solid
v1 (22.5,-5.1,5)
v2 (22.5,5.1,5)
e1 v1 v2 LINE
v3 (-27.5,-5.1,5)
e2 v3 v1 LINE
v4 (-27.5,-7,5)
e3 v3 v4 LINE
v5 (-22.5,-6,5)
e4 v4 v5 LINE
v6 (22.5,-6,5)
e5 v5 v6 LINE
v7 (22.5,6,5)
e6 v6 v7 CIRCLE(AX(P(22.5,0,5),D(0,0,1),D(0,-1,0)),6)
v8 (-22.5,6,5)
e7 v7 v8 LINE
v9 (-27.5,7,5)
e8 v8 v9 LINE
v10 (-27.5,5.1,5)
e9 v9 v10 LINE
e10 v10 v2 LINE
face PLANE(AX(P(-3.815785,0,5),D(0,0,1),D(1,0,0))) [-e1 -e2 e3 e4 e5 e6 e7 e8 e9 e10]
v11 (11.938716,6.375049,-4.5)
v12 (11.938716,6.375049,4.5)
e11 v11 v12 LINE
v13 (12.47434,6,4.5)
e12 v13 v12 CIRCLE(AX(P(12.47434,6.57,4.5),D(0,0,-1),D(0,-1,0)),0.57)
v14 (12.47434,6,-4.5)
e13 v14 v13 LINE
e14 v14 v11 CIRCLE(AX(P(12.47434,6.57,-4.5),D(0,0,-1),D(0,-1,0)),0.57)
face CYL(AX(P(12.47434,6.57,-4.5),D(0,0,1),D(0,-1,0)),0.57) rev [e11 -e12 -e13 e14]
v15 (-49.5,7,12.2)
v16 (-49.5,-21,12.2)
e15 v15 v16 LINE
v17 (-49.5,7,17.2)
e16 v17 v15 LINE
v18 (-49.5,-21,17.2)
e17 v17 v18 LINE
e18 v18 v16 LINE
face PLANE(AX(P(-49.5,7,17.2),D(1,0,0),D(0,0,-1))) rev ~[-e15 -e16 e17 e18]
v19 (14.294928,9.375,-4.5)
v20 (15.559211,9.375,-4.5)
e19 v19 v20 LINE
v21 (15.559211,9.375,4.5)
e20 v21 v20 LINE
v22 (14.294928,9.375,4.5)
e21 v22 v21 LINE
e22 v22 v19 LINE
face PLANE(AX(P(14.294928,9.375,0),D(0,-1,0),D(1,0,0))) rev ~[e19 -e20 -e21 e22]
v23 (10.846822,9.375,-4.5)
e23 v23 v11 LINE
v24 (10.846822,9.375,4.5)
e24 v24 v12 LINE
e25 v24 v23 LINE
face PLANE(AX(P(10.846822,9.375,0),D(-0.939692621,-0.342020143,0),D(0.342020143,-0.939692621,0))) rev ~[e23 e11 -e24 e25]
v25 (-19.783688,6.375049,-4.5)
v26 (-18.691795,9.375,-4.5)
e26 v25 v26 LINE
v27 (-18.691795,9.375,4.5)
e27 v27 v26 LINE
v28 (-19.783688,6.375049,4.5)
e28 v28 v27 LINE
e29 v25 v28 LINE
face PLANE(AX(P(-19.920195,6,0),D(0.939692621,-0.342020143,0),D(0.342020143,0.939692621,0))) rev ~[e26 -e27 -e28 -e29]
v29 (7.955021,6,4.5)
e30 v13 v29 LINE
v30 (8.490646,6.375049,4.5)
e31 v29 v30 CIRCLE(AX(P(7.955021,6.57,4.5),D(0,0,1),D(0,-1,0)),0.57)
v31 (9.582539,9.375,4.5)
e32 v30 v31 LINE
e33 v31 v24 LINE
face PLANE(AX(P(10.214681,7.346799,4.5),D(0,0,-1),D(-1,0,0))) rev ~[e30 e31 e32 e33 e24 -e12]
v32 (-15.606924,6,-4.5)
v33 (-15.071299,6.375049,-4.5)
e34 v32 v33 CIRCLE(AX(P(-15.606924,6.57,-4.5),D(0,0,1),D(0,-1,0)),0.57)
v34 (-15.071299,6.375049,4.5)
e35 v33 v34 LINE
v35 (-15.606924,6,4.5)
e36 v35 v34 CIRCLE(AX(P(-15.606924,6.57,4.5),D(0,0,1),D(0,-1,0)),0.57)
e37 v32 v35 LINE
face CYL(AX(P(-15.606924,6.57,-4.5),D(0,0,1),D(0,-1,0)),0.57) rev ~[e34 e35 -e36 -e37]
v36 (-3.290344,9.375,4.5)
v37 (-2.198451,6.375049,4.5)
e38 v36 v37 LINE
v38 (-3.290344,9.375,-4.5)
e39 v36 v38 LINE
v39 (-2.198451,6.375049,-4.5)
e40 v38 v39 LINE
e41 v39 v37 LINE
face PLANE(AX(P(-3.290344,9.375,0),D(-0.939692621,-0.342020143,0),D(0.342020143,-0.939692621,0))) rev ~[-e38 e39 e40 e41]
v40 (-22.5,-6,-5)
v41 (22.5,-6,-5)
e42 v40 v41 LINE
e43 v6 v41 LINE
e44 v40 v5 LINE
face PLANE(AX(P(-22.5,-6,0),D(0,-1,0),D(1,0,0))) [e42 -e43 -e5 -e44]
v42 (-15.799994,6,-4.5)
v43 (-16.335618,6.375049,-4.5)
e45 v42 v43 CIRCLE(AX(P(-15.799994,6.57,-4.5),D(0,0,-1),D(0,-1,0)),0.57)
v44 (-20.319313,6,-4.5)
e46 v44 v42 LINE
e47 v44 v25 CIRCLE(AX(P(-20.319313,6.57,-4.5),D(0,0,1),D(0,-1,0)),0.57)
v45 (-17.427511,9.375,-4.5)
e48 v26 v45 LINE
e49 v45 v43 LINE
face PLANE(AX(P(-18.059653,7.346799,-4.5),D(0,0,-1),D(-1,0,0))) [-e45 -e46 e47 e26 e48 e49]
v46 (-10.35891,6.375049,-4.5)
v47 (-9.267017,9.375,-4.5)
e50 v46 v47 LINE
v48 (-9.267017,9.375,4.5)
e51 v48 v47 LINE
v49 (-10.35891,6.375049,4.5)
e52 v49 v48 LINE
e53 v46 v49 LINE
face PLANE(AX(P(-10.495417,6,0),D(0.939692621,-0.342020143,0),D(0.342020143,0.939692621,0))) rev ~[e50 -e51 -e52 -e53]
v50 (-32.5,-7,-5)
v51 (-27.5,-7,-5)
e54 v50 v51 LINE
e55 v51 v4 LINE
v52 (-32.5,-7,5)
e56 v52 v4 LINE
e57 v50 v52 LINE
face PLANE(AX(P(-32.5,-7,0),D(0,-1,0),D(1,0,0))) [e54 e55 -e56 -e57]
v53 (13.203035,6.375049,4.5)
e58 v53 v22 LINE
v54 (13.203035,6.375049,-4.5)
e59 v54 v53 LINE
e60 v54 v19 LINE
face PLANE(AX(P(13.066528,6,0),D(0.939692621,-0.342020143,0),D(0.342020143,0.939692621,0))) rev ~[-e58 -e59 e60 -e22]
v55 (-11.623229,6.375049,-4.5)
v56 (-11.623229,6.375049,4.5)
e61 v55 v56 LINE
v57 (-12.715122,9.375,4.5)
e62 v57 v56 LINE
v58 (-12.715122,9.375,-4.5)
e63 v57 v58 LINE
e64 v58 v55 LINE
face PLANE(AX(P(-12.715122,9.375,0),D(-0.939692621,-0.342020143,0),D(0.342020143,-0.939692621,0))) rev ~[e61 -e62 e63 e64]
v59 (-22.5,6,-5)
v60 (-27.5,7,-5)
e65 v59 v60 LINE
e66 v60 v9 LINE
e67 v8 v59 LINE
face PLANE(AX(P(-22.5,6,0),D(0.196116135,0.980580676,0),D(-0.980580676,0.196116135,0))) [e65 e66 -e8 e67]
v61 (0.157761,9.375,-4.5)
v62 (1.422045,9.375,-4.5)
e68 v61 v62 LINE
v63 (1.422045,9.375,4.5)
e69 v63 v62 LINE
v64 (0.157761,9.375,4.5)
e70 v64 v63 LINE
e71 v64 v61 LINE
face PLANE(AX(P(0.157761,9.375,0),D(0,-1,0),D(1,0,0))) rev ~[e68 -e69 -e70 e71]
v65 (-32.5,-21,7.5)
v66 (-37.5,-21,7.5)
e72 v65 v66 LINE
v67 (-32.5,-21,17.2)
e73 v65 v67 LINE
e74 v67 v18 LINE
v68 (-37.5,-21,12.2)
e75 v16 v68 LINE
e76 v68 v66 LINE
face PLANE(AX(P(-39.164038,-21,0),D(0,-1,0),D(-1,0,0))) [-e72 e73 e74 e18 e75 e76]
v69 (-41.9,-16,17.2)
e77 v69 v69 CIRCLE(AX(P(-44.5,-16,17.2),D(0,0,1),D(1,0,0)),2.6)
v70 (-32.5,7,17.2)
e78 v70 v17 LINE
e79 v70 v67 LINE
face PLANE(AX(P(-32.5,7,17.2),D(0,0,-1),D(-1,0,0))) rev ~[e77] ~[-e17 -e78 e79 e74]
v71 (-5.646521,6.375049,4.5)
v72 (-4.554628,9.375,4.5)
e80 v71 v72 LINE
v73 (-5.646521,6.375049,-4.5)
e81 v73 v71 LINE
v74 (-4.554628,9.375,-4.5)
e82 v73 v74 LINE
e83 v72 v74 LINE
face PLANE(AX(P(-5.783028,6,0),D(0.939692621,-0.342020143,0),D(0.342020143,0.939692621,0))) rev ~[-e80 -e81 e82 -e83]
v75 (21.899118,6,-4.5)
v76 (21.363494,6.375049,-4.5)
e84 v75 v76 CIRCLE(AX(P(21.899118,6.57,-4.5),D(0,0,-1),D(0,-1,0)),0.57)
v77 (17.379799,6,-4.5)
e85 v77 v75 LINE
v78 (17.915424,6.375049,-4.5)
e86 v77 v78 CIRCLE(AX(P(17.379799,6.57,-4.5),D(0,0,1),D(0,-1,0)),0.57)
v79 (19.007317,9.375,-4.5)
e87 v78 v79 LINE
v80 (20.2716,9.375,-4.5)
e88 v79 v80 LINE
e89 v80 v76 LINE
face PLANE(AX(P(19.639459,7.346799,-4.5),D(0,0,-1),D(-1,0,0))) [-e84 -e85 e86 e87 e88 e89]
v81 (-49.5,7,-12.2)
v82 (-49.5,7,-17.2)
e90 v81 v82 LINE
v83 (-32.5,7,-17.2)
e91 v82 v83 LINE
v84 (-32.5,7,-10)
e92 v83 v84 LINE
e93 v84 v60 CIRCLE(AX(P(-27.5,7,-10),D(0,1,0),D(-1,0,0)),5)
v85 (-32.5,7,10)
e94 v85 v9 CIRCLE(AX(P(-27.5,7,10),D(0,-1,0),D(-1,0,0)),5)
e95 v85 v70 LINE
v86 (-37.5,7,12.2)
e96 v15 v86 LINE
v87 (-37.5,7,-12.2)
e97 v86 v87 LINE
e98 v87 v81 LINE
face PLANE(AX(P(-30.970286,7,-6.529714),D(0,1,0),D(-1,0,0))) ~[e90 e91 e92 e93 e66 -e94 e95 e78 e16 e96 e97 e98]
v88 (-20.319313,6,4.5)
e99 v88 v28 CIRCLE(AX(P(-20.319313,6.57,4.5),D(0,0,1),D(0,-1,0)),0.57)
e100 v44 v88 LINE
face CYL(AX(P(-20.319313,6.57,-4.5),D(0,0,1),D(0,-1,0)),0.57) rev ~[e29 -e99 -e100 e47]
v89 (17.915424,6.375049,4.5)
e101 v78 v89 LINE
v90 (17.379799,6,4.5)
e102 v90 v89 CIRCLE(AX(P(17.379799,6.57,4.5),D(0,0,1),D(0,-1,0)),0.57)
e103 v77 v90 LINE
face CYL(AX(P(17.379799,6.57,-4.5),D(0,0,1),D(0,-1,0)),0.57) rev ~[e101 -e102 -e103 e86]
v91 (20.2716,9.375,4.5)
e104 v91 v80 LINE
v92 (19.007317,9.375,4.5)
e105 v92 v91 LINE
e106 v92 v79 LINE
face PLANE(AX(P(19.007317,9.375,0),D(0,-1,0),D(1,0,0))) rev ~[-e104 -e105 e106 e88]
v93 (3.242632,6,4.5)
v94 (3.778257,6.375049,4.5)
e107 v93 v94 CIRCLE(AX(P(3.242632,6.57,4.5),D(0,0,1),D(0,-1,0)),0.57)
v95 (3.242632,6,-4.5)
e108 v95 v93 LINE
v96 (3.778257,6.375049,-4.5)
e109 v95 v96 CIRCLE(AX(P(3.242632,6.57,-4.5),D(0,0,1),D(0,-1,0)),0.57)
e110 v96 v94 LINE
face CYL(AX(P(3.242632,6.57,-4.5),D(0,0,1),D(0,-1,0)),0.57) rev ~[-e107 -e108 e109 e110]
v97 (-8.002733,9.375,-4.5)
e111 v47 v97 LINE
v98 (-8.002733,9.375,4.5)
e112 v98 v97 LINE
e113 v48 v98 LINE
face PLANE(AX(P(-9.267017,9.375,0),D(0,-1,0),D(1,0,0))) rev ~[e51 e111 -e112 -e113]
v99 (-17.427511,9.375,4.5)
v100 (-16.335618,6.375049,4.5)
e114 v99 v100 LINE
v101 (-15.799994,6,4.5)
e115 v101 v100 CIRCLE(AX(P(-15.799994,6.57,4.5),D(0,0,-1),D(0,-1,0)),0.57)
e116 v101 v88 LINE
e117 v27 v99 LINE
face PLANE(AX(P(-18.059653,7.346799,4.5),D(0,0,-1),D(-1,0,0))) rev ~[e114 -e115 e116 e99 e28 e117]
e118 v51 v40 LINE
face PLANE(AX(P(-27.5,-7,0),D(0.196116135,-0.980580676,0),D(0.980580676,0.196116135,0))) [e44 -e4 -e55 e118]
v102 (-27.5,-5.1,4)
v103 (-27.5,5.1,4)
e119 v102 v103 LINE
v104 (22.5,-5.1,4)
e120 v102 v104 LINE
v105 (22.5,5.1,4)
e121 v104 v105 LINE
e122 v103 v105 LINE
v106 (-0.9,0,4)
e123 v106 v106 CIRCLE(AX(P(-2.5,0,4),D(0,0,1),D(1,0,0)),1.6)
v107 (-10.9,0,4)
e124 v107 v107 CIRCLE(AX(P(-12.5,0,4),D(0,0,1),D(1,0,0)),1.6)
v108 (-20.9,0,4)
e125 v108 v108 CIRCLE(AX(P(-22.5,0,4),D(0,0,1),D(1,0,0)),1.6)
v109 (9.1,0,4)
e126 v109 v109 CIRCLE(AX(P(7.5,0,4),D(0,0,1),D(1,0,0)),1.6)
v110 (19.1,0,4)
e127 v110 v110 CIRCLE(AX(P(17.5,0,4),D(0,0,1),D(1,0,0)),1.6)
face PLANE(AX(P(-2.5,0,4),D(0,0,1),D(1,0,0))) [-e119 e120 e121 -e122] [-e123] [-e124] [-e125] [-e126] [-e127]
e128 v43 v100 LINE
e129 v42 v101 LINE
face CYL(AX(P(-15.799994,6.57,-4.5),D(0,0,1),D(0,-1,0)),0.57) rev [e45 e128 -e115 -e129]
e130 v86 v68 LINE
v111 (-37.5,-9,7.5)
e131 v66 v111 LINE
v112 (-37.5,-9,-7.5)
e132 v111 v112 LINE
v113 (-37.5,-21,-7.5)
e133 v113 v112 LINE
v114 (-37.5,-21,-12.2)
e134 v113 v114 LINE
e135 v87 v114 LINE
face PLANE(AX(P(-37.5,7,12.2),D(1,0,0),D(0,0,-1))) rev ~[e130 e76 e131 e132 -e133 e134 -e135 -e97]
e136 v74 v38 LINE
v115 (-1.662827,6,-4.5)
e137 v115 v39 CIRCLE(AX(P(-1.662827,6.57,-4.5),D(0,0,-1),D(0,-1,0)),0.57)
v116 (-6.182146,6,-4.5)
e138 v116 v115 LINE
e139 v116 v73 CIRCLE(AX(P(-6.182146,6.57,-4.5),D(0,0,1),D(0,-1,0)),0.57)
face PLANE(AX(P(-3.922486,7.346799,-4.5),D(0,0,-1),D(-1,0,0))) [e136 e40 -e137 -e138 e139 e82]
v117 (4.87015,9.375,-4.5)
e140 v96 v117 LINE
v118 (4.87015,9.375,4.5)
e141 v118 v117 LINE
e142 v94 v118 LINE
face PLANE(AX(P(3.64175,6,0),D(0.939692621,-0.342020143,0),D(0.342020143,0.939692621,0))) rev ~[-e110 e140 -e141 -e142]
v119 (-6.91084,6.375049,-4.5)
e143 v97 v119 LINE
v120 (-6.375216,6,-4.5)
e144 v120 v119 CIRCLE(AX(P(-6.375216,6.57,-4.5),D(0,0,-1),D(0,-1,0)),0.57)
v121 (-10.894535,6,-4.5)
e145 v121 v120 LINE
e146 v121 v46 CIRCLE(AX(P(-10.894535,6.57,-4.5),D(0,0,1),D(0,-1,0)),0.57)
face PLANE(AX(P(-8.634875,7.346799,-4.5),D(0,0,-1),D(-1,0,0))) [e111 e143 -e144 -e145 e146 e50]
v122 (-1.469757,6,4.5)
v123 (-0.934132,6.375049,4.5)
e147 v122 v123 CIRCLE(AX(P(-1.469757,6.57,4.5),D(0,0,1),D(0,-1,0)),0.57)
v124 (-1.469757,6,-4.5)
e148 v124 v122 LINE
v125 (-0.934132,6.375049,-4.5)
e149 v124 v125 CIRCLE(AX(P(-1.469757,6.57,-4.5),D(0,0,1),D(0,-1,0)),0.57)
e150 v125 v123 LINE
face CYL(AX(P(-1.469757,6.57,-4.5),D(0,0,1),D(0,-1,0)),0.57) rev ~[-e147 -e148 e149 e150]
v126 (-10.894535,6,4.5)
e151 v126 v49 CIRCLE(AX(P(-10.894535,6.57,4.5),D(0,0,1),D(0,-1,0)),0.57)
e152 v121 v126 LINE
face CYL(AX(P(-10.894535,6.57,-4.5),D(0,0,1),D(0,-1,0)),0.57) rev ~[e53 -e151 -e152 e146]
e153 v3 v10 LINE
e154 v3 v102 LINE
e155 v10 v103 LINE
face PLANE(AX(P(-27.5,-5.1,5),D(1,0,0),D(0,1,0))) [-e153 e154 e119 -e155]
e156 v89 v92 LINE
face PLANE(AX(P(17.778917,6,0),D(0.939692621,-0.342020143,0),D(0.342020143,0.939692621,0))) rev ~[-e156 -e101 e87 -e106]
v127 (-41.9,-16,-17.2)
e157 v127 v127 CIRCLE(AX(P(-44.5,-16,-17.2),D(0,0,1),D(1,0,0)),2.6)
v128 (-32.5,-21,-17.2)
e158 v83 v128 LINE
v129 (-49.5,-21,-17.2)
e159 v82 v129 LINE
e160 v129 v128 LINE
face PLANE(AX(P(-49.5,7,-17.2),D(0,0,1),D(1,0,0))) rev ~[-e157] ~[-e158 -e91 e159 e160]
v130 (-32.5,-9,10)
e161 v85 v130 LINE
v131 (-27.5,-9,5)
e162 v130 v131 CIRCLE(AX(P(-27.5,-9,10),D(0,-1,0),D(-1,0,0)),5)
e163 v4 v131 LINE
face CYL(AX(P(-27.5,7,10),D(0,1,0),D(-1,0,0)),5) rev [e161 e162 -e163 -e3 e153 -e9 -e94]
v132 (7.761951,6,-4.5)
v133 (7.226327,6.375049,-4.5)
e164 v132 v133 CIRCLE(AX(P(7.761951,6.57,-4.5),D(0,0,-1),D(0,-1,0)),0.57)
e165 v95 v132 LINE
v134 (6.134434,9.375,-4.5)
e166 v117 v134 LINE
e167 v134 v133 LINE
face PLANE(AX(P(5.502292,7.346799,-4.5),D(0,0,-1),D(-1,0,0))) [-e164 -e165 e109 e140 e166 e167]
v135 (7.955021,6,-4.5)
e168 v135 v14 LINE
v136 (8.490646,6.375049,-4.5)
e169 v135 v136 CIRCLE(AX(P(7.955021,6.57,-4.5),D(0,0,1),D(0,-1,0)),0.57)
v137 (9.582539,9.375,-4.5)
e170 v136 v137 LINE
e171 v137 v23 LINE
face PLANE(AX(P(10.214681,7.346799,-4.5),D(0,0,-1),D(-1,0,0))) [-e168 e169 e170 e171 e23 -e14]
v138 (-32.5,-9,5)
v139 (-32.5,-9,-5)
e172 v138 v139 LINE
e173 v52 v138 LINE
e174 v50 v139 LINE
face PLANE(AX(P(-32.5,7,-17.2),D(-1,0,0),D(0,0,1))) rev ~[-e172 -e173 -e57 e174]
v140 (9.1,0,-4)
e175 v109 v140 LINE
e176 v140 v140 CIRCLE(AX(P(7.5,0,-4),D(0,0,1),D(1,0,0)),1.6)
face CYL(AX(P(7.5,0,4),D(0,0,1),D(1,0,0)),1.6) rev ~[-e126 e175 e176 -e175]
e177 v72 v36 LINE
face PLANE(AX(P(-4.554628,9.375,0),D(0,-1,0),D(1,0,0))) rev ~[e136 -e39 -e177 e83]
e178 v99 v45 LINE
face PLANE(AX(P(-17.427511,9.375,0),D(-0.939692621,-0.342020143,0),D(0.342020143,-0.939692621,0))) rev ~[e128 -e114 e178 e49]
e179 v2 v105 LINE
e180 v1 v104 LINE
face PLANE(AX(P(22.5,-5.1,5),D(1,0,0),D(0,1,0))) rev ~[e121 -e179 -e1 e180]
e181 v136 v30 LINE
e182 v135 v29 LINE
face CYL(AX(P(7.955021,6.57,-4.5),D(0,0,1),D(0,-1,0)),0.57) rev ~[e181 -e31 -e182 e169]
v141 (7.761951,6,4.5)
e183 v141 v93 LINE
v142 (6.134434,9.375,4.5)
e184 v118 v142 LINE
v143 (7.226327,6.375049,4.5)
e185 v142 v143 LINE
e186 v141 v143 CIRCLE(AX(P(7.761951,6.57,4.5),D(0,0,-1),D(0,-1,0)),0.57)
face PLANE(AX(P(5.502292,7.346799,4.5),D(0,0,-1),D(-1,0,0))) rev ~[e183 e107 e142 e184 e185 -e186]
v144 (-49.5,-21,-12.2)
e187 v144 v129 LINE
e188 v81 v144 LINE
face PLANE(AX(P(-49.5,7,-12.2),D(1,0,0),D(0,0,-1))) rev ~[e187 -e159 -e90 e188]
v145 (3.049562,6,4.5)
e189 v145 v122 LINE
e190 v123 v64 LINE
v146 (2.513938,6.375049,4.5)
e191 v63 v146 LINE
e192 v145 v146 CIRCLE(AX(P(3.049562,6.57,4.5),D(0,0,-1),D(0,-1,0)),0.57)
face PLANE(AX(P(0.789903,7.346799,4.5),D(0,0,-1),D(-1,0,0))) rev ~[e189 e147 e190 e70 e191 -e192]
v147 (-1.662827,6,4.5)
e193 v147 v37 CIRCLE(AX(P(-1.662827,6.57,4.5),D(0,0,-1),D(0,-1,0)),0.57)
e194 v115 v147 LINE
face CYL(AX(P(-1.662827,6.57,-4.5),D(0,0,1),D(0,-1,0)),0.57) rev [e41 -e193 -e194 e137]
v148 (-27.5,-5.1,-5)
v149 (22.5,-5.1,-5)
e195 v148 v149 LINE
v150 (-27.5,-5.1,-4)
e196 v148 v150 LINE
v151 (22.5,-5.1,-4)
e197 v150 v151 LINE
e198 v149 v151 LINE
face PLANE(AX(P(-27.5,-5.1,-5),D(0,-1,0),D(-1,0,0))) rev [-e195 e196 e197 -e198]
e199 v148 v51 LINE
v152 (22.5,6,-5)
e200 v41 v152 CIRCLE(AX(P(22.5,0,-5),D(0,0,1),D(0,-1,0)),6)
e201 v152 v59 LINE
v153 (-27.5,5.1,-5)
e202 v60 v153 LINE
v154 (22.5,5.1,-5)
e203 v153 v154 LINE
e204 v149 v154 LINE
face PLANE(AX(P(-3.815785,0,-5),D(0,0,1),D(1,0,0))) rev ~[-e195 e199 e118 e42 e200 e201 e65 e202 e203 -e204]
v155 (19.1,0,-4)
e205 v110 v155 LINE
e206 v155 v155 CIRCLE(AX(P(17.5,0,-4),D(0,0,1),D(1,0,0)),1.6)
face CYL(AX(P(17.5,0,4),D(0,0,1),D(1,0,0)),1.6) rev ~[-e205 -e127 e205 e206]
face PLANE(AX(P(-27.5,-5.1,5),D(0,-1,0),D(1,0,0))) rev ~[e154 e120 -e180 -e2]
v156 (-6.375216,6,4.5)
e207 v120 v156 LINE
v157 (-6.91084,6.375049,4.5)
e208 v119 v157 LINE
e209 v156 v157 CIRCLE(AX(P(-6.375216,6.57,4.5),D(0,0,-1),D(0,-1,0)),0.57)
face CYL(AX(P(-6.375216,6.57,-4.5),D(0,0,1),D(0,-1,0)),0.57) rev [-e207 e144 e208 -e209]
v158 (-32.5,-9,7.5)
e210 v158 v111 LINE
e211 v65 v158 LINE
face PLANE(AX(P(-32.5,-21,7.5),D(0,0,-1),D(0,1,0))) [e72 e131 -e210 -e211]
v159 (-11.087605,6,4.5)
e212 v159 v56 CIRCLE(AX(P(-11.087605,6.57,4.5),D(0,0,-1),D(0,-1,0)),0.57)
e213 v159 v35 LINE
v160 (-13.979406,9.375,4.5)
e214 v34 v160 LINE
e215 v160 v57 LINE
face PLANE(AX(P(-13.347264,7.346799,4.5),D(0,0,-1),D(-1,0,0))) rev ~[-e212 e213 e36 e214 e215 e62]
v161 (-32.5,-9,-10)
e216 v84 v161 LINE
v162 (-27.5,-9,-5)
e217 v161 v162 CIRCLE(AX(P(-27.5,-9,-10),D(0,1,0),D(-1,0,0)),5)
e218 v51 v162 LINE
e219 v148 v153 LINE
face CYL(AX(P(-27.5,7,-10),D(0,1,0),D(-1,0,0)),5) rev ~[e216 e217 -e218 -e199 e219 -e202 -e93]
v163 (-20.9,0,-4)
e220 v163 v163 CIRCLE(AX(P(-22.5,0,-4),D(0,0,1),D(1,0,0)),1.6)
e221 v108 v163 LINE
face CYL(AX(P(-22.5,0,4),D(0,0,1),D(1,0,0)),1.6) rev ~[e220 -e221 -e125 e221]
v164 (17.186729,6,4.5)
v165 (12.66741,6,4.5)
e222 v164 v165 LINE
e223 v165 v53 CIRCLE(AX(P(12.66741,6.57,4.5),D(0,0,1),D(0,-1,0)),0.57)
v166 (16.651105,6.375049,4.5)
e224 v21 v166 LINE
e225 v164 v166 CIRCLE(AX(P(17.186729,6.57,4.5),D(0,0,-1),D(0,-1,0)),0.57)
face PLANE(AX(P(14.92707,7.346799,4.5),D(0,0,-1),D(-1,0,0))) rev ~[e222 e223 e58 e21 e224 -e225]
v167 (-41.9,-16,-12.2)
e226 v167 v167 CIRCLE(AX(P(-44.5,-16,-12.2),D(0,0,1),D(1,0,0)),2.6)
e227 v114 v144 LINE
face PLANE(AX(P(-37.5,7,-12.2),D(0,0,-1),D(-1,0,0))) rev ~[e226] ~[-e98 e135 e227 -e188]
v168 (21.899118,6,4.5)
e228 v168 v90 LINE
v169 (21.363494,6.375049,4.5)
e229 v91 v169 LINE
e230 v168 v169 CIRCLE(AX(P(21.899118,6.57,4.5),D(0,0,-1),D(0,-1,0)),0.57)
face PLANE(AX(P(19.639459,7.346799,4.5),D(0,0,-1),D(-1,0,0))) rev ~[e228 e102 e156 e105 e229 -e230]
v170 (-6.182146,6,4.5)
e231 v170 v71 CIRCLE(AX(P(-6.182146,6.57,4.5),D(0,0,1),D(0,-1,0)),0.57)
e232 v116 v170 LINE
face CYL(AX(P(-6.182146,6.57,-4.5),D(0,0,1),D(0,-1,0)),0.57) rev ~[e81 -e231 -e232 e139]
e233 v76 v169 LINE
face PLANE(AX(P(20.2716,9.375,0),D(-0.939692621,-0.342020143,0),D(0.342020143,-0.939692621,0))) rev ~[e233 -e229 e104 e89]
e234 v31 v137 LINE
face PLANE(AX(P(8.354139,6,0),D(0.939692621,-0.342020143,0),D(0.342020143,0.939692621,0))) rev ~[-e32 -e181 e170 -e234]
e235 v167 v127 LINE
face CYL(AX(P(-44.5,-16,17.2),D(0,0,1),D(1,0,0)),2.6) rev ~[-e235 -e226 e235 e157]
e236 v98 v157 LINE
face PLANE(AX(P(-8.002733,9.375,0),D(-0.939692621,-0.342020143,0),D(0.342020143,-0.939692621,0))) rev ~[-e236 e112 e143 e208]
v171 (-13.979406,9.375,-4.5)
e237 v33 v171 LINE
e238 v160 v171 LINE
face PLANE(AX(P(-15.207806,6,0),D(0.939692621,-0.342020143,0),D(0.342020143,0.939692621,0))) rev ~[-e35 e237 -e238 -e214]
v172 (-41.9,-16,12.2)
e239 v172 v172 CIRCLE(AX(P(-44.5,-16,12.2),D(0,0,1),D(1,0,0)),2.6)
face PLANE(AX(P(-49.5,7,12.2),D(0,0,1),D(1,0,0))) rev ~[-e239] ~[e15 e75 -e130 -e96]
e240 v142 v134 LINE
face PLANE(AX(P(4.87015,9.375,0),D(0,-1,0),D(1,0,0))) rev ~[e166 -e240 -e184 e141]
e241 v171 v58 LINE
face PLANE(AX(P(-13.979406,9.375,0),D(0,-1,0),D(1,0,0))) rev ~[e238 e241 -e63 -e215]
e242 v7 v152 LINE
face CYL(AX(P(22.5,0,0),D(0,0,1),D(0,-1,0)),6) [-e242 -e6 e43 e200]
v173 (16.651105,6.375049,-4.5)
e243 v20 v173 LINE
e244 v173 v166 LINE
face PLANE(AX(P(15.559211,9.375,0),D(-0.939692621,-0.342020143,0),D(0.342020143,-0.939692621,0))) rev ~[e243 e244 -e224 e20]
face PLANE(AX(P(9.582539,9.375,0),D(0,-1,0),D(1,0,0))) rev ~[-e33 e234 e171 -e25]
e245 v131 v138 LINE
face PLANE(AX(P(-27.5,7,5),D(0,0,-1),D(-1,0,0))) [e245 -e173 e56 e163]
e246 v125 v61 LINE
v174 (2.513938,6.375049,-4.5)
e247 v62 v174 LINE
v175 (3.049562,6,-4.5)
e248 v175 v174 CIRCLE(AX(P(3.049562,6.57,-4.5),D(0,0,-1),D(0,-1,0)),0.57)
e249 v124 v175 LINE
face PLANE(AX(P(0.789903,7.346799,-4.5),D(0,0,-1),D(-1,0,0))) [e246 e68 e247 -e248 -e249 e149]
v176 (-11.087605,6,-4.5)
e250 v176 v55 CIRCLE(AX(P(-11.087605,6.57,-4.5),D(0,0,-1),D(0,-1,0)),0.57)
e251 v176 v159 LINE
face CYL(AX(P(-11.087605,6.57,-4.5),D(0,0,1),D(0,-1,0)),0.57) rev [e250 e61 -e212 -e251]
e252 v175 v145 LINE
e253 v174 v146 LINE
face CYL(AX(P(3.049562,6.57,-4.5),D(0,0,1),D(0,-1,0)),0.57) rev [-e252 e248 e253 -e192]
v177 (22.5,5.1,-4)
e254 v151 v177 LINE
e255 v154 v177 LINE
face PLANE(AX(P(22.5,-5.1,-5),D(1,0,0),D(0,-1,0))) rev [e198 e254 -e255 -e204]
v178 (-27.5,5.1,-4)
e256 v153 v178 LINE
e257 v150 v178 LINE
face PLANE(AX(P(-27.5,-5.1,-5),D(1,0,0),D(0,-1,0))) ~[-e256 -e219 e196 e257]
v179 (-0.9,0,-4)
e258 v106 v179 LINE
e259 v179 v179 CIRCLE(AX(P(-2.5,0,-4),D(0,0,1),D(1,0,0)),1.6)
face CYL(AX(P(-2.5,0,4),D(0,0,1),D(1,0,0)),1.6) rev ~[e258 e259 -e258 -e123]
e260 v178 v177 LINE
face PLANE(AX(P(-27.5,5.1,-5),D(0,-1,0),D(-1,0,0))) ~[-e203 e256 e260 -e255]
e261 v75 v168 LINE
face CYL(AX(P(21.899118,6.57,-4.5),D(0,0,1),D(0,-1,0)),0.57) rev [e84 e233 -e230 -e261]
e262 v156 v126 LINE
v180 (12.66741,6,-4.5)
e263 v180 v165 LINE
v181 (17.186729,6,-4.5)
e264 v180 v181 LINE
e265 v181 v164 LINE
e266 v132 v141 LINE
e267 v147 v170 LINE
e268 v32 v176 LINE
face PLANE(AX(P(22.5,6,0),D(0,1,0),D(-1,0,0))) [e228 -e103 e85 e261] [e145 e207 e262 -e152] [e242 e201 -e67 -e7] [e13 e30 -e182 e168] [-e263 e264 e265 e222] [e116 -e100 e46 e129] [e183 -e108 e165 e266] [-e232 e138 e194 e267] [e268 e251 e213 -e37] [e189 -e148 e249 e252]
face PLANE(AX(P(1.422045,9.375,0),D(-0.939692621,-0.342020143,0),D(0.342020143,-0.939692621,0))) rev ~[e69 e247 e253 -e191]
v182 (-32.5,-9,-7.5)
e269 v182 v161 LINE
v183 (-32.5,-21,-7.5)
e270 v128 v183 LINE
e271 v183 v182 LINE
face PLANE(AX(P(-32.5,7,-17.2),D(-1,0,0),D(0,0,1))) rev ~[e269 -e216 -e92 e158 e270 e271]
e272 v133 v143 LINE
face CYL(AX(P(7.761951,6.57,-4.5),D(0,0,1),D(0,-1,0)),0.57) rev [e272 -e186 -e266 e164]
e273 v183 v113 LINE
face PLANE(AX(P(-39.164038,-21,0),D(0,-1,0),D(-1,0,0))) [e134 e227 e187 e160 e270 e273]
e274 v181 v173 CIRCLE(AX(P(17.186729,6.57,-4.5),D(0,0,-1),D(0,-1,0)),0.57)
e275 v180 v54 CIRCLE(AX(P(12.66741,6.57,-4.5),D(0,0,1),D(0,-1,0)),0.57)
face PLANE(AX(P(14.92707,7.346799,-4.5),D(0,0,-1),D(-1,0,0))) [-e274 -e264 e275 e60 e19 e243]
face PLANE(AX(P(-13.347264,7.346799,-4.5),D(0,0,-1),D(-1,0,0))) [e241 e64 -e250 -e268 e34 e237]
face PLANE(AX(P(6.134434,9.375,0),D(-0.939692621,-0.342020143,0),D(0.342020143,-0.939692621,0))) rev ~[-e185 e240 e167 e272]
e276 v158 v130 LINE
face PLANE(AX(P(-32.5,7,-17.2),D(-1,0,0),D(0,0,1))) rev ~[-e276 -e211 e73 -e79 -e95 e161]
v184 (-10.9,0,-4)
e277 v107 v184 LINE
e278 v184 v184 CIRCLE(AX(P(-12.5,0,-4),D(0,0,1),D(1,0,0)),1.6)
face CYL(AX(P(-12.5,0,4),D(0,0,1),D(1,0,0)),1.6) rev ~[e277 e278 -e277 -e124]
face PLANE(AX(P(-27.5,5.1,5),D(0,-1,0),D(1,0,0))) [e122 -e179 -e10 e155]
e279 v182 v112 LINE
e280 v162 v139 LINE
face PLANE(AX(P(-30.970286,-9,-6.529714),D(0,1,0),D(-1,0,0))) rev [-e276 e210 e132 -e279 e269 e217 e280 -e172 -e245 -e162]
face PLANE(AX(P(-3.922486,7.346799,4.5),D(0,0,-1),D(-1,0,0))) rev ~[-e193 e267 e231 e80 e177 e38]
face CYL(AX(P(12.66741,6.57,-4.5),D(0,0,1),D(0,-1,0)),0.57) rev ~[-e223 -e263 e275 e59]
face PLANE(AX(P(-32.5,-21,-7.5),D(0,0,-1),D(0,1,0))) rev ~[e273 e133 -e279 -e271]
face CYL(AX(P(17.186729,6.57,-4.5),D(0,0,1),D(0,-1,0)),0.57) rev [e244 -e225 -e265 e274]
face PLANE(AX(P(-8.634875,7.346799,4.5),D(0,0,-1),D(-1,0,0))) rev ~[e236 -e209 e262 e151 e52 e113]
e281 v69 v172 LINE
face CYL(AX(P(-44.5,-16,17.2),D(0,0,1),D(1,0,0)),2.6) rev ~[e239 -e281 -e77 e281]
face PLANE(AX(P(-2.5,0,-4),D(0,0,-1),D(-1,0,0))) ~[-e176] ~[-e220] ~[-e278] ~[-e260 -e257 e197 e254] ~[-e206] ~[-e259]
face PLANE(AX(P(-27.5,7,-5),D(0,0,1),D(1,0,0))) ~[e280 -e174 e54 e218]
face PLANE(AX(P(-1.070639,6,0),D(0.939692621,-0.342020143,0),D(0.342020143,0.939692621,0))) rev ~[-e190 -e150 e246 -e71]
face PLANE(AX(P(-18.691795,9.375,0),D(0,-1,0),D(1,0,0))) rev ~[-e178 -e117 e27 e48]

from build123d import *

# Parameters (mm, degrees)
MAIN_EXTRUSION_DEPTH          = 5
TOOTH_DEPTH                   = 4.5
TOOTH_FILLET_R                = 0.57
TOOTHREPEAT_COUNT             = 9
TOOTHREPEAT_PITCH             = 4.71238898
TOOTH_FILLET_OF_TOOTHREPEAT_R = 0.57
FIXINGSUPPORT_DEPTH           = 28
ESQUISSE11_R                  = 2.6
FIXINGHOLES_DEPTH             = 64.832671885
ESQUISSE12_W                  = 15
ESQUISSE12_H                  = 12
RACKHOLE_DEPTH                = 67.767057746
FILLET_2_DEPTH                = 16
ESQUISSE15_W                  = 50
ESQUISSE15_H                  = 10.2
REINFORCEMENT_DEPTH           = 1
ESQUISSE16_R                  = 1.6
ENL_V_MAT_EXTRU_2_DEPTH       = 58.798702408


with BuildPart() as part:
    # Esquisse1 → Main Extrusion (new, symmetric)
    with BuildSketch(Plane.XY):
        with BuildLine():
            Line((-22.5, 6), (-27.5, 7))
            Line((-27.5, 7), (-32.5, 7))
            Line((-32.5, 7), (-32.5, -7))
            Line((-32.5, -7), (-27.5, -7))
            Line((-27.5, -7), (-22.5, -6))
            Line((-22.5, -6), (22.5, -6))
            ThreePointArc((22.5, -6), (28.5, 0), (22.5, 6))
            Line((22.5, 6), (-22.5, 6))
        make_face()
    extrude(amount=MAIN_EXTRUSION_DEPTH, both=True)

    # Esquisse5 → Tooth (add, symmetric)
    with BuildSketch(Plane.XY):
        Polygon((17.778917131, 6), (19.007316672, 9.375), (20.271600459, 9.375), (21.5, 6), align=None)
    tooth = extrude(amount=TOOTH_DEPTH, both=True)

    # Tooth Fillet
    tooth_fillet_edges = [part.edges().sort_by_distance(p)[0] for p in [
        (17.778917131, 6, 0),
        (21.5, 6, 0),
    ]]
    fillet(tooth_fillet_edges, radius=TOOTH_FILLET_R)

    # ToothRepeat: Tooth ×9
    with Locations(*[(-i * TOOTHREPEAT_PITCH, 0, 0) for i in range(1, TOOTHREPEAT_COUNT)]):
        add(tooth)

    # Tooth Fillet of ToothRepeat
    tooth_fillet_of_toothrepeat_edges = [part.edges().sort_by_distance(p)[0] for p in [
        (13.066528151, 6, 0),
        (16.78761102, 6, 0),
        (8.354139171, 6, 0),
        (12.07522204, 6, 0),
        (3.641750191, 6, 0),
        (7.36283306, 6, 0),
        (-1.070638789, 6, 0),
        (2.65044408, 6, 0),
        (-5.783027769, 6, 0),
        (-2.0619449, 6, 0),
        (-10.495416749, 6, 0),
        (-6.77433388, 6, 0),
        (-15.207805729, 6, 0),
        (-11.48672286, 6, 0),
        (-19.920194709, 6, 0),
        (-16.19911184, 6, 0),
    ]]
    fillet(tooth_fillet_of_toothrepeat_edges, radius=TOOTH_FILLET_OF_TOOTHREPEAT_R)



with BuildPart() as body_2:
    # Esquisse10 → FixingSupport (new body)
    with BuildSketch(Plane(origin=(0, 7, 0), x_dir=(1, 0, 0), z_dir=(0, 1, 0))):
        Polygon((-32.5, -17.2), (-49.5, -17.2), (-49.5, -12.2), (-37.5, -12.2), (-37.5, 12.2), (-49.5, 12.2), (-49.5, 17.2), (-32.5, 17.2), align=None)
    extrude(amount=-FIXINGSUPPORT_DEPTH)

    # Esquisse11 → FixingHoles (cut, through all)
    with BuildSketch(Plane.XY.offset(17.2)):
        with Locations((-44.5, -16)):
            Circle(ESQUISSE11_R)
    extrude(amount=-FIXINGHOLES_DEPTH, mode=Mode.SUBTRACT)

    # Esquisse12 → RackHole (cut, through all)
    with BuildSketch(Plane(origin=(-32.5, 0, 0), x_dir=(0, 0, -1), z_dir=(1, 0, 0))):
        with Locations((0, -15)):
            Rectangle(ESQUISSE12_W, ESQUISSE12_H)
    extrude(amount=-RACKHOLE_DEPTH, mode=Mode.SUBTRACT)


with BuildPart() as part_1:
    add(part.part)

    add(body_2.part)  # Fillet 2 merges body 2
    # Esquisse14 → Fillet 2 (add)
    with BuildSketch(Plane(origin=(0, 7, 0), x_dir=(1, 0, 0), z_dir=(0, 1, 0))):
        with BuildLine():
            Line((-32.5, -5), (-32.5, -10))
            ThreePointArc((-32.5, -10), (-31.035533906, -6.464466094), (-27.5, -5))
            Line((-27.5, -5), (-32.5, -5))
        make_face()
    fillet_2 = extrude(amount=-FILLET_2_DEPTH)

    # FilletSymetry: Fillet 2 across plane
    add(fillet_2.mirror(Plane.XY))

    # Esquisse15 → Reinforcement (cut)
    with BuildSketch(Plane.XY.offset(5)):
        with Locations((-2.5, 0)):
            Rectangle(ESQUISSE15_W, ESQUISSE15_H)
    reinforcement = extrude(amount=-REINFORCEMENT_DEPTH, mode=Mode.SUBTRACT)

    # Symétrie1: Reinforcement across plane
    add(reinforcement.mirror(Plane.XY), mode=Mode.SUBTRACT)

    # Esquisse16 → Enlèv. mat.-Extru.2 (cut, through all)
    with BuildSketch(Plane.XY.offset(4)):
        with Locations((17.5, 0)):
            Circle(ESQUISSE16_R)
        with Locations((7.5, 0)):
            Circle(ESQUISSE16_R)
        with Locations((-2.5, 0)):
            Circle(ESQUISSE16_R)
        with Locations((-12.5, 0)):
            Circle(ESQUISSE16_R)
        with Locations((-22.5, 0)):
            Circle(ESQUISSE16_R)
    extrude(amount=-ENL_V_MAT_EXTRU_2_DEPTH, mode=Mode.SUBTRACT)


solid = part_1.part
